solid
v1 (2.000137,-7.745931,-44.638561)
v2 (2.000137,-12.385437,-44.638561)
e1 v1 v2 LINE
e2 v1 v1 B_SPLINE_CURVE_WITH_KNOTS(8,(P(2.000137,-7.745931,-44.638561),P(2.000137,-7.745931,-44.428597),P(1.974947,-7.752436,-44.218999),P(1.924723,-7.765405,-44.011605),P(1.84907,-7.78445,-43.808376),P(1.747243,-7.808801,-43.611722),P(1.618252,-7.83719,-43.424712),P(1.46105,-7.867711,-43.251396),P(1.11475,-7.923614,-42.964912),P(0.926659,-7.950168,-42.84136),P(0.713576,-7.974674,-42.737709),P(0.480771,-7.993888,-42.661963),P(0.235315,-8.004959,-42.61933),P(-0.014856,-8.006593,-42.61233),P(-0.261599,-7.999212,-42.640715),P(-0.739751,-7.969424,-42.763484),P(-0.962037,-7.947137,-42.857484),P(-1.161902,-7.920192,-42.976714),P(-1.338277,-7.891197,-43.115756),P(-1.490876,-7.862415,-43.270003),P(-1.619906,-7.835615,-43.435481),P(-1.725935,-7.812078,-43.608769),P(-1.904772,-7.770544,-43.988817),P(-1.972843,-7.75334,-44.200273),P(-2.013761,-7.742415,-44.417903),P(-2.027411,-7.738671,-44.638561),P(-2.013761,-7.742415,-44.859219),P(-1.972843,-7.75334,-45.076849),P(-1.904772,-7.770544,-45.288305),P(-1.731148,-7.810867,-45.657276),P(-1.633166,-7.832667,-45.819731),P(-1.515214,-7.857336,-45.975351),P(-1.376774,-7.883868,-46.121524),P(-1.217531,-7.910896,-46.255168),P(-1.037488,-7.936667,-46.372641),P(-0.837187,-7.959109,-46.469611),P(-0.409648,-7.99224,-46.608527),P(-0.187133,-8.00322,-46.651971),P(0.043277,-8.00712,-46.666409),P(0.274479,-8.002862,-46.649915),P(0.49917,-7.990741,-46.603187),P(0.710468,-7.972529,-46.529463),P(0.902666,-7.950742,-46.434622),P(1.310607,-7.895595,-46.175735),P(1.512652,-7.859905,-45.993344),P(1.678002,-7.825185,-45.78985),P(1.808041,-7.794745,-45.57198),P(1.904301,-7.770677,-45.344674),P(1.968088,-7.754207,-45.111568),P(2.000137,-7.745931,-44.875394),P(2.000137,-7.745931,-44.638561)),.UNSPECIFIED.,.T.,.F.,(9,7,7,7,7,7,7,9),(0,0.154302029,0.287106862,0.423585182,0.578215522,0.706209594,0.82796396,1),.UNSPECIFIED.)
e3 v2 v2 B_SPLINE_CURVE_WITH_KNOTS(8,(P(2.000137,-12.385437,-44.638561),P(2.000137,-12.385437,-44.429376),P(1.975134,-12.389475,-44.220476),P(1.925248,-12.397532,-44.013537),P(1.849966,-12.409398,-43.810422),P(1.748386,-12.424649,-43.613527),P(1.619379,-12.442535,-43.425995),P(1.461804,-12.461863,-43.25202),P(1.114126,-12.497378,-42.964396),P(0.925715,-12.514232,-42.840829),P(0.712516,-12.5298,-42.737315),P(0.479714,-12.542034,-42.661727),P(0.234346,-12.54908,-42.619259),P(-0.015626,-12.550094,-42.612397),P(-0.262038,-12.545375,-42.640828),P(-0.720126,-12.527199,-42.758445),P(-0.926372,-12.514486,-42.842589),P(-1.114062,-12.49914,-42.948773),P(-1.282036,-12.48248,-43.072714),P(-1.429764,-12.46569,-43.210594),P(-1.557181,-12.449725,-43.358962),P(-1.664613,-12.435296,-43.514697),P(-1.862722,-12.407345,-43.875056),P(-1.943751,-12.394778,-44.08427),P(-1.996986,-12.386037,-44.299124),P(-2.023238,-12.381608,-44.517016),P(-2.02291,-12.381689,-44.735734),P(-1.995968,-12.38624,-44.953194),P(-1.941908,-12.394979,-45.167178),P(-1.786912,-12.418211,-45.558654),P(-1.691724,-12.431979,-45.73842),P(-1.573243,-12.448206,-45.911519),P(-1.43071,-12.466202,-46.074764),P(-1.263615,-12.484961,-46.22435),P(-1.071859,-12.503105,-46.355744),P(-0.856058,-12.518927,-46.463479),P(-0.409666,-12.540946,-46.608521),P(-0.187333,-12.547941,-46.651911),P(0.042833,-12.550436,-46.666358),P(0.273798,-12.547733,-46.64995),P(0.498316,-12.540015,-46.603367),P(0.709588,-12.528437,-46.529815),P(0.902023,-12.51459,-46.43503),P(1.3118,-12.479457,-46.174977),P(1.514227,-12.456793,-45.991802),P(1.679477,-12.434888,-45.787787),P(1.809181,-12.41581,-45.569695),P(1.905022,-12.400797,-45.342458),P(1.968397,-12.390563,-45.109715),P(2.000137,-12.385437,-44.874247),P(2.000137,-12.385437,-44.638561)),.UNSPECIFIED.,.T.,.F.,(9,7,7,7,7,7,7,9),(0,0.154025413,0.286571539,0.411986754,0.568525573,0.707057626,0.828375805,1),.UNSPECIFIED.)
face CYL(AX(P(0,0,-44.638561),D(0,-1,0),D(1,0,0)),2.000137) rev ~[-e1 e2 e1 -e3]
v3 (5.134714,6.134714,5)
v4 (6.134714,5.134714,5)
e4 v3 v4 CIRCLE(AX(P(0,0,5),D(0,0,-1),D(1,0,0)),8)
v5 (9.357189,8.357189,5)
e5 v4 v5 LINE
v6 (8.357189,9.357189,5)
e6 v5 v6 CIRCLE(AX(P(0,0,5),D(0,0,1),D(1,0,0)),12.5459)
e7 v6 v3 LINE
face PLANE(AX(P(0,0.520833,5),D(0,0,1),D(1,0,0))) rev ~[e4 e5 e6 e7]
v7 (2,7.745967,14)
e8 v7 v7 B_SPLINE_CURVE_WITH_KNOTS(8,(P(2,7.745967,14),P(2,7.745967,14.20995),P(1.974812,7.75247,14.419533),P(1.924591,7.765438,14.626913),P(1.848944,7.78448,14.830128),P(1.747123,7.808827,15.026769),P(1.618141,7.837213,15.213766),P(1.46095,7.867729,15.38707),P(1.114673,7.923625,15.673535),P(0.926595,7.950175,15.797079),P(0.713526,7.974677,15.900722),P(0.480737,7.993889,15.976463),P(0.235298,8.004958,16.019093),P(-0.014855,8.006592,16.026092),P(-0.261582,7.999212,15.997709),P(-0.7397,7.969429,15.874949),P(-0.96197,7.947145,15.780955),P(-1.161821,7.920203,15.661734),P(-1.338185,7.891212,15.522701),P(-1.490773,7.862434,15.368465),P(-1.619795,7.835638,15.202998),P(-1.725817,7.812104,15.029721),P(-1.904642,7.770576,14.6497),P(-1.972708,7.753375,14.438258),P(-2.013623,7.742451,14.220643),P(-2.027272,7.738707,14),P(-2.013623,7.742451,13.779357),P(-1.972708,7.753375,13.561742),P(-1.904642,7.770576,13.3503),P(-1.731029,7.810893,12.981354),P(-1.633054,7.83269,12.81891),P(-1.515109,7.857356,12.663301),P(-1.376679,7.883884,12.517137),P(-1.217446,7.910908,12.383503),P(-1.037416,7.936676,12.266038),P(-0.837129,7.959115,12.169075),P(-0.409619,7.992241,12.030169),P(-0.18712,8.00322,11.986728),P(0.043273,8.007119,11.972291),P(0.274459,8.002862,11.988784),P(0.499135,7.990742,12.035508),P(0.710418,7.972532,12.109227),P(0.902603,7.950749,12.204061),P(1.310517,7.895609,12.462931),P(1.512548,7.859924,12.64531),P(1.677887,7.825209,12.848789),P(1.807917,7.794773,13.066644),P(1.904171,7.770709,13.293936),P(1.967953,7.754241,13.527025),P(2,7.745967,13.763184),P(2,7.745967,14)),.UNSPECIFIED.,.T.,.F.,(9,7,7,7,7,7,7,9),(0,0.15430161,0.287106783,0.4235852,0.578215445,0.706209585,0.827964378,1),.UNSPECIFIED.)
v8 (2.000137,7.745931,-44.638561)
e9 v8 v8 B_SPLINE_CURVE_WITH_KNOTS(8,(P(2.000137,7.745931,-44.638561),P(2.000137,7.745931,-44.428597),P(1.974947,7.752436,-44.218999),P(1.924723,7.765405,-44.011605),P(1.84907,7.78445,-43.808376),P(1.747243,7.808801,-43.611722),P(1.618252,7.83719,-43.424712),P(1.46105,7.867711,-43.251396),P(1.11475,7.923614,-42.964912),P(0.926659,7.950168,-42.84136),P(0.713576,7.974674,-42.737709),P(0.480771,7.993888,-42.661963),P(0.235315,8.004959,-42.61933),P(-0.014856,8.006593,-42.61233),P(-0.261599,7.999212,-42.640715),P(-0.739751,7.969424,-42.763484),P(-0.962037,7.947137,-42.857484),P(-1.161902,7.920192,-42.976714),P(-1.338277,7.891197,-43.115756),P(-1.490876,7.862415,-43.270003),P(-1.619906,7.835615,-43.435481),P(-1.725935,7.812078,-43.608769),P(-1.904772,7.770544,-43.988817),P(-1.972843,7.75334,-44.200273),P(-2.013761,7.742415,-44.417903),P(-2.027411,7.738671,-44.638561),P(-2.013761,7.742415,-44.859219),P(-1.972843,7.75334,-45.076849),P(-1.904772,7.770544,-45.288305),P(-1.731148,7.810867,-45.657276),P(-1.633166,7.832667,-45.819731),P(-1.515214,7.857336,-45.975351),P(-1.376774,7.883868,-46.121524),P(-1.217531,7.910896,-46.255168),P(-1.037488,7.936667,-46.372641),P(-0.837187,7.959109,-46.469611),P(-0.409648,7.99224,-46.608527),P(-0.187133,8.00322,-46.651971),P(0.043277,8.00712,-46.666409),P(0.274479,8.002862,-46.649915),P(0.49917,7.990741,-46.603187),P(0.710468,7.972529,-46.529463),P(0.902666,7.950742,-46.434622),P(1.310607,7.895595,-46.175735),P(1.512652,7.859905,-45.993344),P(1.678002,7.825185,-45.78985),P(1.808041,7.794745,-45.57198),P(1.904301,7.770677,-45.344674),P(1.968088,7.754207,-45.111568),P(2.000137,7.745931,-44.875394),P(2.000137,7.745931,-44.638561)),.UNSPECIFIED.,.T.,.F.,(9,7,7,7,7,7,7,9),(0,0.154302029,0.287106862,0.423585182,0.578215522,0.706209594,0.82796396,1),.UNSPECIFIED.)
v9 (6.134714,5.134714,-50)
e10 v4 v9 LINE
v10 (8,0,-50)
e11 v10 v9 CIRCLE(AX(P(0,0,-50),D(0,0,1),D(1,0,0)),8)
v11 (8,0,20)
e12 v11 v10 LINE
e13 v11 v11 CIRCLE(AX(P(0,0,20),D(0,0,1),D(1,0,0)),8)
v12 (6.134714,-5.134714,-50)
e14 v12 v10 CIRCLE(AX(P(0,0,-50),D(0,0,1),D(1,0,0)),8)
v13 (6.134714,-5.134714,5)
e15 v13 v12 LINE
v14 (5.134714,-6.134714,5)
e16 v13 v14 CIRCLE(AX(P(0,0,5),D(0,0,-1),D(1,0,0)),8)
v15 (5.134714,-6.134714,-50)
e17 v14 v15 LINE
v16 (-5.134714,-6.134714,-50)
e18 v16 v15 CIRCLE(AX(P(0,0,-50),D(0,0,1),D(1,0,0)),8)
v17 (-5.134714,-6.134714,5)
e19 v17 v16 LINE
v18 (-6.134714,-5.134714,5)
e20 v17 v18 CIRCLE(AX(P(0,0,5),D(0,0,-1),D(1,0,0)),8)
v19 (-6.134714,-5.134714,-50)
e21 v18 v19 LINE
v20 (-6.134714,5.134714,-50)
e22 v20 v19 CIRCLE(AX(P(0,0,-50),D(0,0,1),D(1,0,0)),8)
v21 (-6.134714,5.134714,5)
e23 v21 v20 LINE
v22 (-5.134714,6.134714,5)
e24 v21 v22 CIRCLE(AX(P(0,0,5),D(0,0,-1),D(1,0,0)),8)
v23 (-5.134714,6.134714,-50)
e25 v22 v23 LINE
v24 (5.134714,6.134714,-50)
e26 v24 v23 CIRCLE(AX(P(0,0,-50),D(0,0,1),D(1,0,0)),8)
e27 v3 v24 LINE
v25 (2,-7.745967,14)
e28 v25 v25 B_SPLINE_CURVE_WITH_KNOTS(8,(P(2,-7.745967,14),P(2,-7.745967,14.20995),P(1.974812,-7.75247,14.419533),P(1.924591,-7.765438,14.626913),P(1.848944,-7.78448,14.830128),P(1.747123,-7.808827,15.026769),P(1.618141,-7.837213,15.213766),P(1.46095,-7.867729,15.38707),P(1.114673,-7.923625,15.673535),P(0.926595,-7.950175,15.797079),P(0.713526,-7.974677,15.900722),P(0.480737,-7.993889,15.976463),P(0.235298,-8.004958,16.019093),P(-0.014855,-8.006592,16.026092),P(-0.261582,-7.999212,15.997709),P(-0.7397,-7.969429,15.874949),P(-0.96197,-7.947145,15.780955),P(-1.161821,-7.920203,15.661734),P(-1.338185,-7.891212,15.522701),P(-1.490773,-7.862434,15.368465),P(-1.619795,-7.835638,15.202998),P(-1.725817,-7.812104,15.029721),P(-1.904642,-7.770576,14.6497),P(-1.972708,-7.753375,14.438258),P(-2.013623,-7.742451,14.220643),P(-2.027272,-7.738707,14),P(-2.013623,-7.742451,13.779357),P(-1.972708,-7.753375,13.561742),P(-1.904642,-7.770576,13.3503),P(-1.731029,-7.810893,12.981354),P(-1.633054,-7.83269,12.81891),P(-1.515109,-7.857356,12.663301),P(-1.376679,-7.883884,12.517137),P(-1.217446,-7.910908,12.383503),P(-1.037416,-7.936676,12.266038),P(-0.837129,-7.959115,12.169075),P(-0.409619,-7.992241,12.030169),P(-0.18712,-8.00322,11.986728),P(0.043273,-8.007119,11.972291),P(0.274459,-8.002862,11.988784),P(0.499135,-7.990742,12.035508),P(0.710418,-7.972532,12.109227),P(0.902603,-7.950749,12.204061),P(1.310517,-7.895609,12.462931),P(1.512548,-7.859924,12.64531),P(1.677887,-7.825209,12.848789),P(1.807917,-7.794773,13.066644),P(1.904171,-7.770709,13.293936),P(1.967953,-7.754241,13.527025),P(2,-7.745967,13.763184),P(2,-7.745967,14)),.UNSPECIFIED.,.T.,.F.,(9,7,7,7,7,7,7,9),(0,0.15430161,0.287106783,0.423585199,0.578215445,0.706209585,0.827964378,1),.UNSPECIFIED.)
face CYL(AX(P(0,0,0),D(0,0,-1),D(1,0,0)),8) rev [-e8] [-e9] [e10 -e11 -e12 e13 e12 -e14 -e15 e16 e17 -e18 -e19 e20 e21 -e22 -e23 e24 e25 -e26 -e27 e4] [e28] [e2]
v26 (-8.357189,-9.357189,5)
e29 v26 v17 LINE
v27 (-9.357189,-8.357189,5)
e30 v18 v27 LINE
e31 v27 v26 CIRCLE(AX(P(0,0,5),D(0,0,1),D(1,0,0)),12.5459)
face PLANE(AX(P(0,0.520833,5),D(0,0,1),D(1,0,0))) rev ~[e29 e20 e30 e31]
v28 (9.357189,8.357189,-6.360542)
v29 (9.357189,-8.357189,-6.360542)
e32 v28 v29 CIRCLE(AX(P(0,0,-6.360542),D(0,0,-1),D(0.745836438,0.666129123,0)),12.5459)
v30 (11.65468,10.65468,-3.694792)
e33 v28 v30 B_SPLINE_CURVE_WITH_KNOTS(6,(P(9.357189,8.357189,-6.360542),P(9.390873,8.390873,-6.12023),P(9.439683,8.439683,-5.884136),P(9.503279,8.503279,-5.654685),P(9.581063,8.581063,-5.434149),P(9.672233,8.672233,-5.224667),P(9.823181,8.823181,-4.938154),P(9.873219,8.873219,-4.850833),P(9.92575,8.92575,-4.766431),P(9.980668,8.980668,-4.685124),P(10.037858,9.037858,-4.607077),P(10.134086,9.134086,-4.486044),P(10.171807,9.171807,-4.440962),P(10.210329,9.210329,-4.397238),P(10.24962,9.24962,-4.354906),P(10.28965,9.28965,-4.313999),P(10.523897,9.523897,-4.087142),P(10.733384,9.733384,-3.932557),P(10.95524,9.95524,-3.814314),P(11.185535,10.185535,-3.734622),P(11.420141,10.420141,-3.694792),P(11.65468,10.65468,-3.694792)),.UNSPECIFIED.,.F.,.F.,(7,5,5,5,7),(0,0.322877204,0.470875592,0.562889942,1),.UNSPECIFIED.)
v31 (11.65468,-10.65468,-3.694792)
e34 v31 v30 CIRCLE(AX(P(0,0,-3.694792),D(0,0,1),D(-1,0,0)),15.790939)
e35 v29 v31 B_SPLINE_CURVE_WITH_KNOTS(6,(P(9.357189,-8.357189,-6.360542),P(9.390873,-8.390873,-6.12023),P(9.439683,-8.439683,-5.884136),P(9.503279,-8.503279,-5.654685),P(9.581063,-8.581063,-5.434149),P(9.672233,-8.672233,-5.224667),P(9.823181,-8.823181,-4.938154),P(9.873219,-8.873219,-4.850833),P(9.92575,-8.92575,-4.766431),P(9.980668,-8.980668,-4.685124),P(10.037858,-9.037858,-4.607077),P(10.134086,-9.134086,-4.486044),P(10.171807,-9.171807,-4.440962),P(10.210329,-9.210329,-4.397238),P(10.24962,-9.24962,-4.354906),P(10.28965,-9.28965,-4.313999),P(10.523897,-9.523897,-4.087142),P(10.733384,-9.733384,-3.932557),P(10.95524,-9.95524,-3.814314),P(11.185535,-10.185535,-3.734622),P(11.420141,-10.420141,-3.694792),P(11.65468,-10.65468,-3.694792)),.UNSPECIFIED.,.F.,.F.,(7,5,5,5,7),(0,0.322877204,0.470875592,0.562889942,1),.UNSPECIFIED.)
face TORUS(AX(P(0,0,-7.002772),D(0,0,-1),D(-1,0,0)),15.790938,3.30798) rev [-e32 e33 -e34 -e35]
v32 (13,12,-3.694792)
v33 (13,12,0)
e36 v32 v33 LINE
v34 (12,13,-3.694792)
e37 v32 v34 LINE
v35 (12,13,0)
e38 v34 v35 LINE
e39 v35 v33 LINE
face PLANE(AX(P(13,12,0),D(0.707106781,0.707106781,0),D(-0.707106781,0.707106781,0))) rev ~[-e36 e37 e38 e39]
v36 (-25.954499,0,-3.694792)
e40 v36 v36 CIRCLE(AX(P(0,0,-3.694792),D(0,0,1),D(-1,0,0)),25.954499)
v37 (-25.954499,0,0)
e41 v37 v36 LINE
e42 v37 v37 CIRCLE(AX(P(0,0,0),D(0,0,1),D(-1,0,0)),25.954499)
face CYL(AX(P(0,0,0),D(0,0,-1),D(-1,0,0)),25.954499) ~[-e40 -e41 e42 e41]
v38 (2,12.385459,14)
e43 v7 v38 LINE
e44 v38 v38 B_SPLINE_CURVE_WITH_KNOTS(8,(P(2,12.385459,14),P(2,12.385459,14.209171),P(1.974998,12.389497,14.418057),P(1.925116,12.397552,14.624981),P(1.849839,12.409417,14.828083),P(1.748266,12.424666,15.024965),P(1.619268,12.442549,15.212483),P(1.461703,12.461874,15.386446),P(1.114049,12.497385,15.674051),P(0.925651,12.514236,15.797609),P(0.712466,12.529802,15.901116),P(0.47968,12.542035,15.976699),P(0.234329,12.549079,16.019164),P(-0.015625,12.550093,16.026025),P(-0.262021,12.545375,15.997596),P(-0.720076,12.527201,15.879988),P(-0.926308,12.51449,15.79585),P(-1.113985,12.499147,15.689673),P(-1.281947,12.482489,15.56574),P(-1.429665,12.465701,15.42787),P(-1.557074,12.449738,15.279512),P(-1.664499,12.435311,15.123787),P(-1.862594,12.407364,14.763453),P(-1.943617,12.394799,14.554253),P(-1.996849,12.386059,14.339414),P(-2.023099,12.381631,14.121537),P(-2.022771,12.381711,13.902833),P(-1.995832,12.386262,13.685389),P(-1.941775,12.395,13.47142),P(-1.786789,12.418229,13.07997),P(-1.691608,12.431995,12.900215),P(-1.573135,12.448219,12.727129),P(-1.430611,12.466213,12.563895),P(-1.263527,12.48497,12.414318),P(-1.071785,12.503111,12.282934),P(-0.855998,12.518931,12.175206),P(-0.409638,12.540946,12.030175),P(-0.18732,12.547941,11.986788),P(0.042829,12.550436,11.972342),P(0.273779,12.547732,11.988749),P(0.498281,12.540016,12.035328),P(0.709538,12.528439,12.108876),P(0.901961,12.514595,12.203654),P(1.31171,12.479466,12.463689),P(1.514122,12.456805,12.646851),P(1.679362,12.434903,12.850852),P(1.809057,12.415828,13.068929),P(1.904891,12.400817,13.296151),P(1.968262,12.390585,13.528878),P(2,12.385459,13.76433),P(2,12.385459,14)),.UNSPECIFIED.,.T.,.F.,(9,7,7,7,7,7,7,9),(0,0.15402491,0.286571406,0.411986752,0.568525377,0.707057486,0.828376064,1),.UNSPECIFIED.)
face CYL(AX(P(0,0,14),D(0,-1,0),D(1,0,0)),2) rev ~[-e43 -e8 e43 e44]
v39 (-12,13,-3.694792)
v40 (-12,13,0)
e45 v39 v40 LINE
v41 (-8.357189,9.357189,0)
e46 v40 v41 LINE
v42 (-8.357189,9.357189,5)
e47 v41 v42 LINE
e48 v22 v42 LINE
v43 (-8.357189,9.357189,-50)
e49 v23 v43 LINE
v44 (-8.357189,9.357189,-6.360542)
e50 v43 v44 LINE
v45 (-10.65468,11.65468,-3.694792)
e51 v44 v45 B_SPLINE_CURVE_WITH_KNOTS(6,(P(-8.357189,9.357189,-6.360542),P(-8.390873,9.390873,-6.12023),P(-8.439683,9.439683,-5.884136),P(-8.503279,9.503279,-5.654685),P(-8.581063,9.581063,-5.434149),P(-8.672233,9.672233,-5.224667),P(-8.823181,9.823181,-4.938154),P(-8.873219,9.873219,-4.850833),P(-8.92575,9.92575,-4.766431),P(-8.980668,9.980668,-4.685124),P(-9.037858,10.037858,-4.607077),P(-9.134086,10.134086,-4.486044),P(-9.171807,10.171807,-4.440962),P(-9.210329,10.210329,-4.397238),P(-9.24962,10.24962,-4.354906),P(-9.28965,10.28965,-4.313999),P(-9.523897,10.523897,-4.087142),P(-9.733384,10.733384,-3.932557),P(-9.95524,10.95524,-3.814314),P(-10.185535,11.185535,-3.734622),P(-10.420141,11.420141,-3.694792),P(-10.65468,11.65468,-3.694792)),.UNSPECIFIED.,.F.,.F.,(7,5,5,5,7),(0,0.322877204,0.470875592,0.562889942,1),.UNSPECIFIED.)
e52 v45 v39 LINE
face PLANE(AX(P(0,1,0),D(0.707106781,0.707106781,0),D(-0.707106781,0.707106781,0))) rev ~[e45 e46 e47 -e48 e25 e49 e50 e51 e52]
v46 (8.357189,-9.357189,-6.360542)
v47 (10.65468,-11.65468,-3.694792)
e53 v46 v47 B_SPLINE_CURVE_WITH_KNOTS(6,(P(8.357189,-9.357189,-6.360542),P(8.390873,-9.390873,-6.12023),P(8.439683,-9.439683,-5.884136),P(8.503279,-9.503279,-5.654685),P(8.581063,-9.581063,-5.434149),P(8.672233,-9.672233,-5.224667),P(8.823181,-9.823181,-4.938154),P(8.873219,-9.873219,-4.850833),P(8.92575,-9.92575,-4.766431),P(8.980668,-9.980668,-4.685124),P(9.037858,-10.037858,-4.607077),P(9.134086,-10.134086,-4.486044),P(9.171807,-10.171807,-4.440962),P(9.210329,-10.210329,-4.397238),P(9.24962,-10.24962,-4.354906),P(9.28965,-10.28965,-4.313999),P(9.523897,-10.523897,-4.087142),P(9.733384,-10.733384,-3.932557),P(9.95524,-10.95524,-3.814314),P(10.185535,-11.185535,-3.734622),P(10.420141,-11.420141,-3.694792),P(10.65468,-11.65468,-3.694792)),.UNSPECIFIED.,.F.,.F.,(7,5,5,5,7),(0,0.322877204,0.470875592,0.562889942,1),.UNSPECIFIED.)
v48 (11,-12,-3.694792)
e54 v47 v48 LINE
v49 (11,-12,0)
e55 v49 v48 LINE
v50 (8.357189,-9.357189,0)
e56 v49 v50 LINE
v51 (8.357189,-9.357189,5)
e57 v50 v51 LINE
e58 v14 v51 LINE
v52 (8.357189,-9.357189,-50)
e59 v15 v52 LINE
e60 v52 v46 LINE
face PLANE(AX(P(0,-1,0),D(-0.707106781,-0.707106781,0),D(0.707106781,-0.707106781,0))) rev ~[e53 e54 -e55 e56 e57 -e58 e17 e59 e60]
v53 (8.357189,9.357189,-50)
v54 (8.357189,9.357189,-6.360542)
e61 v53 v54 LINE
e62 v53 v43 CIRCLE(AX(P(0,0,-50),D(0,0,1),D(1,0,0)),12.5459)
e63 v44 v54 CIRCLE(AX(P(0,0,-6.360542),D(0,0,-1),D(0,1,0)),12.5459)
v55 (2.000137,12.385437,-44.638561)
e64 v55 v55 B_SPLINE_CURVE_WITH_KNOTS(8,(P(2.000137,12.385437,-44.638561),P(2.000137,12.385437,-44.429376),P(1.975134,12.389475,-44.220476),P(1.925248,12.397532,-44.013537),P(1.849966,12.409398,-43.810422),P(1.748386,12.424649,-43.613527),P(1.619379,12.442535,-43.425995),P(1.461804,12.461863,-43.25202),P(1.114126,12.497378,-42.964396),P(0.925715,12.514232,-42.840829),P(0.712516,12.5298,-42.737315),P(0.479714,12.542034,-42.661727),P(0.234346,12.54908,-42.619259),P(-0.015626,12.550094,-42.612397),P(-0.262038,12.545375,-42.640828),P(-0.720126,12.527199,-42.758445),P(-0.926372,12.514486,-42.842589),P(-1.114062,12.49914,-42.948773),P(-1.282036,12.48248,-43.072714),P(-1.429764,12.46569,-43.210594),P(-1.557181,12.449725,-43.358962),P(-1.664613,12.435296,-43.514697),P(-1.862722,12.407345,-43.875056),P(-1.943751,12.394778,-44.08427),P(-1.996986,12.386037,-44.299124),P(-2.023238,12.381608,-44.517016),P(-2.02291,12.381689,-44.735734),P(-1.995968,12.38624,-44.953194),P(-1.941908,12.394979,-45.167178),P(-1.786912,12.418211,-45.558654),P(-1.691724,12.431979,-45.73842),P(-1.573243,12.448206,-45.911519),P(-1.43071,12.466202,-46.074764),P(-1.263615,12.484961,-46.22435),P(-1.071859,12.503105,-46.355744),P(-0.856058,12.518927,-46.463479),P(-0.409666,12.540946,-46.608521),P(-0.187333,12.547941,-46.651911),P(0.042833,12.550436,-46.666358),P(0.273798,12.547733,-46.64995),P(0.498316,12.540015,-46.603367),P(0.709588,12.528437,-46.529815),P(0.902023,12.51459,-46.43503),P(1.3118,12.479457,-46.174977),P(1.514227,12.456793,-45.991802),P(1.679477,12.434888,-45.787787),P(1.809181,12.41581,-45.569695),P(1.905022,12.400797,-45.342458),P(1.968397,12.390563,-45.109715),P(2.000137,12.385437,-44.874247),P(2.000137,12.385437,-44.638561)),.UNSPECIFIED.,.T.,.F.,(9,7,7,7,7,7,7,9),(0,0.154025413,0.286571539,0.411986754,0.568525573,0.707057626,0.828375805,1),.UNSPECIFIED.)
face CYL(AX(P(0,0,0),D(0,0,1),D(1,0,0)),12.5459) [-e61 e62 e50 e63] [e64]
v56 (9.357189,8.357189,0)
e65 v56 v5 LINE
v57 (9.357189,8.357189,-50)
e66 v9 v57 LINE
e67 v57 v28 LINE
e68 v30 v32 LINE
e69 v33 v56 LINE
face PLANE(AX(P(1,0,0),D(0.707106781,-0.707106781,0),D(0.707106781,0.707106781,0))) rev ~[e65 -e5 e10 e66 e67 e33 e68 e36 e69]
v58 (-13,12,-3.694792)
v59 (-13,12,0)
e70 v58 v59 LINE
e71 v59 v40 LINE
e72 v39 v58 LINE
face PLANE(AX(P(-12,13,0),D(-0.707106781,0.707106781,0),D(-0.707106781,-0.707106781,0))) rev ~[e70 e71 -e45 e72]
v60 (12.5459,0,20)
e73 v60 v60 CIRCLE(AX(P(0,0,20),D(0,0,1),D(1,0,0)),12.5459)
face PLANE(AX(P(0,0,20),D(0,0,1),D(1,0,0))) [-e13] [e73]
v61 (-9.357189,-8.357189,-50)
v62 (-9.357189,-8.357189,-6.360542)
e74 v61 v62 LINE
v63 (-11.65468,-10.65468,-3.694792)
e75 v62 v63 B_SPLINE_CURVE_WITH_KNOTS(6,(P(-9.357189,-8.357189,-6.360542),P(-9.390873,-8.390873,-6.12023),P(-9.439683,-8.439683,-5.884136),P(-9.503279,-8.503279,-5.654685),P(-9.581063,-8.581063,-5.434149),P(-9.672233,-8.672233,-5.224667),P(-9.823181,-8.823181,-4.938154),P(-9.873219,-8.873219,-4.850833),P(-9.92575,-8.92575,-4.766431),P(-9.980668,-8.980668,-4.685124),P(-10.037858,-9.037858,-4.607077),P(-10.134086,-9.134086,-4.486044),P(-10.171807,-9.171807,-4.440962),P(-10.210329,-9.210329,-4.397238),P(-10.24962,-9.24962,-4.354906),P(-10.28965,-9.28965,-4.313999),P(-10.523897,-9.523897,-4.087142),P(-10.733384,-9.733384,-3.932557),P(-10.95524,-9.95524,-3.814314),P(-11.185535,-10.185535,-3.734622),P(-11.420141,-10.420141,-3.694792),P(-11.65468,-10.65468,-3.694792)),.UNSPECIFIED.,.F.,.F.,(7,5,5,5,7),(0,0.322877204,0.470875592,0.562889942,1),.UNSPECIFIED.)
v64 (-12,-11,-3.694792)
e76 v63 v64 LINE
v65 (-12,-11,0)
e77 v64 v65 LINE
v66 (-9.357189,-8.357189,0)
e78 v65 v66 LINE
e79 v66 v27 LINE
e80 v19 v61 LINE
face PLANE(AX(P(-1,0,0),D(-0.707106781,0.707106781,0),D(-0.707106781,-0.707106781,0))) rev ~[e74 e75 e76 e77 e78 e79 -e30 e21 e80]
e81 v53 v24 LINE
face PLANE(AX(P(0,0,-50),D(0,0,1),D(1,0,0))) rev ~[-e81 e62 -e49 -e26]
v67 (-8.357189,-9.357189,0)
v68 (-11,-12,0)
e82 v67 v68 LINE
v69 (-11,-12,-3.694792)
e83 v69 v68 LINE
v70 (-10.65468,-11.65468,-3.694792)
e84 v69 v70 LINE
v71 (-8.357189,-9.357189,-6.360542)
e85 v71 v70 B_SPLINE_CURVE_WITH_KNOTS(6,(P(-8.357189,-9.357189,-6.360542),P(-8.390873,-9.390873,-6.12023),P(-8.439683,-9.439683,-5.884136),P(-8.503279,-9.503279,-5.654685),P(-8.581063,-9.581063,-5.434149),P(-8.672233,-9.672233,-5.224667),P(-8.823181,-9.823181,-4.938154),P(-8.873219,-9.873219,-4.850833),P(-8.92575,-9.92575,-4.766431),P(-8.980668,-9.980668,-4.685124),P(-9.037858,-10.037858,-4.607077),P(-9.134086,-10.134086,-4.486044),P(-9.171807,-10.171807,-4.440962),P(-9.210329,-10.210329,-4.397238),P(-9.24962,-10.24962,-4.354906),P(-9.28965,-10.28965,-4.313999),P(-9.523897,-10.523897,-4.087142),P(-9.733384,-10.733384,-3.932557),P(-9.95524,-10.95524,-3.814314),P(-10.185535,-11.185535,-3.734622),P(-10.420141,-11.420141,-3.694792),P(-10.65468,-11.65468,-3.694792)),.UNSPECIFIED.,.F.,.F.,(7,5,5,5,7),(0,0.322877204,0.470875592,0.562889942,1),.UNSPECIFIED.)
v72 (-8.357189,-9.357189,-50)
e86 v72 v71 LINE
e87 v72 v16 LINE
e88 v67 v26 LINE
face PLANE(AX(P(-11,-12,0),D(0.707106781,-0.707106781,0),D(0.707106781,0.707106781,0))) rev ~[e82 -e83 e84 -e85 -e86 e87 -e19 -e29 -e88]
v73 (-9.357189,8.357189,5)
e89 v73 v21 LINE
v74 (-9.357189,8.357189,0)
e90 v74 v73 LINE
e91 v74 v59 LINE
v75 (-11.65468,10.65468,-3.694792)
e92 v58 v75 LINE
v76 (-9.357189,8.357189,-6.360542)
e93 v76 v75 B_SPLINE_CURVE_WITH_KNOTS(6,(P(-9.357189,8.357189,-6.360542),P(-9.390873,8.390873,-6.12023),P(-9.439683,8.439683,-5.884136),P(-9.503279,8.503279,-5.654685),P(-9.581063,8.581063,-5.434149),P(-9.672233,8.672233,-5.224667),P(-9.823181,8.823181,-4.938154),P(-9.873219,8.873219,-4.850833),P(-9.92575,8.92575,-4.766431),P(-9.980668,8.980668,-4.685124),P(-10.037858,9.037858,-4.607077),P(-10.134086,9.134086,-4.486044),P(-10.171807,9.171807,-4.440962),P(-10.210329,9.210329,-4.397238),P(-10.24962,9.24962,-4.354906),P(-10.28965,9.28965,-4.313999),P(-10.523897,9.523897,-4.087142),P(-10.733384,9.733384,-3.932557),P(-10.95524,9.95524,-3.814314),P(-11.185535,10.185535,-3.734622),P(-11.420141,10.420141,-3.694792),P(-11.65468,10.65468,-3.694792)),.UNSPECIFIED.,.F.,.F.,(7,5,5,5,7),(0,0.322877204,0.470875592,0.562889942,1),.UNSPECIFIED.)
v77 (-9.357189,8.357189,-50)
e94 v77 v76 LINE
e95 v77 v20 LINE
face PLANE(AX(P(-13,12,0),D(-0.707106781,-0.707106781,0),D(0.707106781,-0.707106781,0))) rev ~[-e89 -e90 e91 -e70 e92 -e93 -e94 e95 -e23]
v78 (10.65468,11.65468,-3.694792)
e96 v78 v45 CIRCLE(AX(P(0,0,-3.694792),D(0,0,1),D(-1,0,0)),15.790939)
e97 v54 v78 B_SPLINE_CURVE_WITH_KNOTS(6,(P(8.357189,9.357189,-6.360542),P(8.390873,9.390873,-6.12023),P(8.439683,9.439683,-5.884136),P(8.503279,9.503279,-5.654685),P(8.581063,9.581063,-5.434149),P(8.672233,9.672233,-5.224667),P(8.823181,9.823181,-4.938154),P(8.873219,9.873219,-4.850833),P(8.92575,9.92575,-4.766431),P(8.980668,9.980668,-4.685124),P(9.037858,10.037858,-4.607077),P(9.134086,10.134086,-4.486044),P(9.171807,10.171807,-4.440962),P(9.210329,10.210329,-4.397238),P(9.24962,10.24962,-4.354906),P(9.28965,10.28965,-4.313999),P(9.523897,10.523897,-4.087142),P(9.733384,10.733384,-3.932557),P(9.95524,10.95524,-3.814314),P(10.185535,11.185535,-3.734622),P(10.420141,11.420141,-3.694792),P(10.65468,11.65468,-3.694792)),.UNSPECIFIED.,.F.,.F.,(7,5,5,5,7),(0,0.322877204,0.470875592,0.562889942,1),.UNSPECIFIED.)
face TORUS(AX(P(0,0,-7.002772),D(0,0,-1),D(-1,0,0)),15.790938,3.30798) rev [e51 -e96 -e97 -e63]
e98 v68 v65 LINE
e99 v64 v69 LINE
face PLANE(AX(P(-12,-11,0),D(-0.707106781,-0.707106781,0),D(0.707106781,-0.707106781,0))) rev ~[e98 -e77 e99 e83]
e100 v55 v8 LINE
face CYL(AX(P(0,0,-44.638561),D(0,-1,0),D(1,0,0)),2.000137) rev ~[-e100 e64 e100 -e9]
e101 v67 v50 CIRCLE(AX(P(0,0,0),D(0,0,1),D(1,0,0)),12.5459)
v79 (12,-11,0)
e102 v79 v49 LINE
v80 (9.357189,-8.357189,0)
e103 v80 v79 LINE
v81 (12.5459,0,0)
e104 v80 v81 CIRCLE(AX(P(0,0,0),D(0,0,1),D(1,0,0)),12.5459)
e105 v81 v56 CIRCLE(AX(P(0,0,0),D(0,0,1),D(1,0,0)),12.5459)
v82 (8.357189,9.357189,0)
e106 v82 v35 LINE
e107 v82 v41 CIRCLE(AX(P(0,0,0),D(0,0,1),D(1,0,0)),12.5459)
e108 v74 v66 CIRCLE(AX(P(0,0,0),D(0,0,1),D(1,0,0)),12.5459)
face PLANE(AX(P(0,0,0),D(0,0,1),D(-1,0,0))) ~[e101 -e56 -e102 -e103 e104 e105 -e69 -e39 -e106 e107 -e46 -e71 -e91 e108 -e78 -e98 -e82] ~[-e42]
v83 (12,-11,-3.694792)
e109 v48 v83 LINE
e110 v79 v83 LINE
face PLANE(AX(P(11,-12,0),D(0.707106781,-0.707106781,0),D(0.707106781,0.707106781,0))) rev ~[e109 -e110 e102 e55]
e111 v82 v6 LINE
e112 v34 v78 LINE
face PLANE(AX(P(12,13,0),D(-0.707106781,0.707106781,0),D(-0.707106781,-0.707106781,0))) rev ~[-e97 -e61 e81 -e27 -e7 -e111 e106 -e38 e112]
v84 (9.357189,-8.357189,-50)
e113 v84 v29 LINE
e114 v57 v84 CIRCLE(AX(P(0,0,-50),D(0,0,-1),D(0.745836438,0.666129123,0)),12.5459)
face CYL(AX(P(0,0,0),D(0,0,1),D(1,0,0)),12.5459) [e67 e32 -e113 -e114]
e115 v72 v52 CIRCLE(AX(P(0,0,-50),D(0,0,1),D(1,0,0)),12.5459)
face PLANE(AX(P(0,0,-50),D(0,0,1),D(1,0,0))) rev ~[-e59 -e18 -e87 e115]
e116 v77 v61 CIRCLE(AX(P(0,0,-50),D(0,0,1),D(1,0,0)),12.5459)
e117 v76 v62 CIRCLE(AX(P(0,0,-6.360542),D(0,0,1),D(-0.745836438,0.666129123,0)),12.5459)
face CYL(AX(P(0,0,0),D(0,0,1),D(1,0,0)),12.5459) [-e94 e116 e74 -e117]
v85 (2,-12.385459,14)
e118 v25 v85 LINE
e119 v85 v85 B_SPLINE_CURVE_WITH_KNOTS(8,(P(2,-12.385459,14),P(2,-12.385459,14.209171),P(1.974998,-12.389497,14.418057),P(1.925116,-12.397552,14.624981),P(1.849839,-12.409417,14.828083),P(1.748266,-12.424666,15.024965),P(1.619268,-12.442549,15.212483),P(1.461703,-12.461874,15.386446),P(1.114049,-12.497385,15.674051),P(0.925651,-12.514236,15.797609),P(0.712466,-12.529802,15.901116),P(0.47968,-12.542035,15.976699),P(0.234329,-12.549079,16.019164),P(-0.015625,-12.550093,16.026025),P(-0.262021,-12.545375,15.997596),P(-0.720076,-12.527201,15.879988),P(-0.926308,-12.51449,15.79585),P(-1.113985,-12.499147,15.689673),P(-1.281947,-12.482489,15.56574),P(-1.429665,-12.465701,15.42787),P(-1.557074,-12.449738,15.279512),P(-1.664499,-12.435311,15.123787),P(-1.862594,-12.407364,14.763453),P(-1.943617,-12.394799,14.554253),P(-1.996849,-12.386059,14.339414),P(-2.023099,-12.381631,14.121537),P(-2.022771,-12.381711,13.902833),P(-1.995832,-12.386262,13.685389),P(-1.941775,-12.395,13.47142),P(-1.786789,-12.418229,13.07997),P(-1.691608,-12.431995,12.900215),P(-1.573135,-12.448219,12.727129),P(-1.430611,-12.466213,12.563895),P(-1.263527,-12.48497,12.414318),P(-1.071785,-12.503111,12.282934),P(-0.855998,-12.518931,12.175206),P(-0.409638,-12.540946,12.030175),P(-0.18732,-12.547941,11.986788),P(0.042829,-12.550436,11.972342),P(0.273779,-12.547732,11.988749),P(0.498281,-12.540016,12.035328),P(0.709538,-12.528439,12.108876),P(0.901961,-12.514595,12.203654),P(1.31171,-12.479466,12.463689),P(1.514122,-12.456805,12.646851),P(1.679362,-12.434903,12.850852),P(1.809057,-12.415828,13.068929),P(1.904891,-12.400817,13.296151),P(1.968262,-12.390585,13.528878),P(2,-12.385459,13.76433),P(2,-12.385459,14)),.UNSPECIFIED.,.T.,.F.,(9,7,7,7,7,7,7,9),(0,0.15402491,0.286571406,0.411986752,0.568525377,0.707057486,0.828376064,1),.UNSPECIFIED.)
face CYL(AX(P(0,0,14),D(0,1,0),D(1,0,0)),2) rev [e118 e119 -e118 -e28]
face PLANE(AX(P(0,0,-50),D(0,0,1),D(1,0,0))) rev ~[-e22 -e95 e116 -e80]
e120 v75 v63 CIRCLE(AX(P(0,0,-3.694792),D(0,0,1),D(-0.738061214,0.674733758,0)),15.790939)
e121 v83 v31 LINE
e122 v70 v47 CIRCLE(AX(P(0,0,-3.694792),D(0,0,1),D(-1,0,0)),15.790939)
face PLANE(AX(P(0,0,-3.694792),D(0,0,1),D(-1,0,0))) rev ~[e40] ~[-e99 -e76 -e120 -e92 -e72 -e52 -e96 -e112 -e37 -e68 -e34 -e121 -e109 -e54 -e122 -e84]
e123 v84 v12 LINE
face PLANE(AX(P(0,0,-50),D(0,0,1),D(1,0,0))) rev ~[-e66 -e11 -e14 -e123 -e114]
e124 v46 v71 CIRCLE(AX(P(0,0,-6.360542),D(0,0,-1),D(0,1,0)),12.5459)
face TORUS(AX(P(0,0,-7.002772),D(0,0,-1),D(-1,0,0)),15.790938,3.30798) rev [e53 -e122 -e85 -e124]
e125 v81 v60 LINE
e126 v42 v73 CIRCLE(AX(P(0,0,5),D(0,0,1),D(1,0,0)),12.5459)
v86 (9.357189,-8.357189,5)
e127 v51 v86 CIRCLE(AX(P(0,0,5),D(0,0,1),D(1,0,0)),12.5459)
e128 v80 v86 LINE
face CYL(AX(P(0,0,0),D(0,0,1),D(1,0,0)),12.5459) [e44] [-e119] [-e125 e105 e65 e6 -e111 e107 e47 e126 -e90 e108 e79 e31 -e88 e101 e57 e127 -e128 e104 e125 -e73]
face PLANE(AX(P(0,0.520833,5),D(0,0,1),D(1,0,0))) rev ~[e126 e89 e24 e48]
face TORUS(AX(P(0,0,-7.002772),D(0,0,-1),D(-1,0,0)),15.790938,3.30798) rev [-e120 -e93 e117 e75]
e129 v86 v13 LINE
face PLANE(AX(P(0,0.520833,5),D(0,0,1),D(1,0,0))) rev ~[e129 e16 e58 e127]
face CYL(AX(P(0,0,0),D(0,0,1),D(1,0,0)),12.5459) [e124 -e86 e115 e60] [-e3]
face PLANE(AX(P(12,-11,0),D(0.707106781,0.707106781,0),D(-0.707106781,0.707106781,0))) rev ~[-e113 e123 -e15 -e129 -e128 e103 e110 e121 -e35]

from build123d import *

# Parameters (mm, degrees)
PAD002_DEPTH      = 5
PAD002_DEPTH_BACK = 100
SKETCH002_R       = 2
SKETCH002_R_2     = 2.000137
PAD001_DEPTH      = 17.5
SKETCH_R          = 12.5459
SKETCH_R_2        = 8
PAD_DEPTH         = 20
PAD_DEPTH_BACK    = 50


with BuildPart() as pad002:
    # Sketch003 → Pad002 (new body, two sides)
    with BuildSketch(Plane.XY) as pad002_sk:
        Polygon((1, 0), (13, 12), (12, 13), (0, 1), (-12, 13), (-13, 12), (-1, 0), (-12, -11), (-11, -12), (0, -1), (11, -12), (12, -11), align=None)
    extrude(amount=PAD002_DEPTH)
    extrude(pad002_sk.sketch, amount=-PAD002_DEPTH_BACK)


with BuildPart() as pad001:
    # Sketch002 → Pad001 (new body, symmetric)
    with BuildSketch(Plane.XZ):
        with Locations((0, 14)):
            Circle(SKETCH002_R)
        with Locations((0, -44.638561)):
            Circle(SKETCH002_R_2)
    extrude(amount=PAD001_DEPTH, both=True)


with BuildPart() as revolution:
    # Sketch001 → Revolution (revolve)
    with BuildSketch(Plane.XZ):
        with BuildLine():
            Line((-10, 0), (-25.954499, 0))
            Line((-25.954499, 0), (-25.954499, -3.694792))
            Line((-25.954499, -3.694792), (-15.790939, -3.694792))
            ThreePointArc((-12.482958, -7.002773), (-13.451843, -4.663677), (-15.790939, -3.694792))
            Line((-12.482958, -7.002773), (-12.482958, -17.250204))
            Line((-12.482958, -17.250204), (-10, -17.250204))
            Line((-10, -17.250204), (-10, 0))
        make_face()
    revolve(axis=Axis((0, 0, 0), (0, 0, 1)))


with BuildPart() as cut001:
    # Sketch → Pad (new body, two sides)
    with BuildSketch(Plane.XY) as pad_sk:
        Circle(SKETCH_R)
        Circle(SKETCH_R_2, mode=Mode.SUBTRACT)
    extrude(amount=PAD_DEPTH)
    extrude(pad_sk.sketch, amount=-PAD_DEPTH_BACK)

    # Fusion: union Revolution
    add(revolution.part)

    # Cut: cut Pad001
    add(pad001.part, mode=Mode.SUBTRACT)

    # Cut001: cut Pad002
    add(pad002.part, mode=Mode.SUBTRACT)


solid = cut001.part
